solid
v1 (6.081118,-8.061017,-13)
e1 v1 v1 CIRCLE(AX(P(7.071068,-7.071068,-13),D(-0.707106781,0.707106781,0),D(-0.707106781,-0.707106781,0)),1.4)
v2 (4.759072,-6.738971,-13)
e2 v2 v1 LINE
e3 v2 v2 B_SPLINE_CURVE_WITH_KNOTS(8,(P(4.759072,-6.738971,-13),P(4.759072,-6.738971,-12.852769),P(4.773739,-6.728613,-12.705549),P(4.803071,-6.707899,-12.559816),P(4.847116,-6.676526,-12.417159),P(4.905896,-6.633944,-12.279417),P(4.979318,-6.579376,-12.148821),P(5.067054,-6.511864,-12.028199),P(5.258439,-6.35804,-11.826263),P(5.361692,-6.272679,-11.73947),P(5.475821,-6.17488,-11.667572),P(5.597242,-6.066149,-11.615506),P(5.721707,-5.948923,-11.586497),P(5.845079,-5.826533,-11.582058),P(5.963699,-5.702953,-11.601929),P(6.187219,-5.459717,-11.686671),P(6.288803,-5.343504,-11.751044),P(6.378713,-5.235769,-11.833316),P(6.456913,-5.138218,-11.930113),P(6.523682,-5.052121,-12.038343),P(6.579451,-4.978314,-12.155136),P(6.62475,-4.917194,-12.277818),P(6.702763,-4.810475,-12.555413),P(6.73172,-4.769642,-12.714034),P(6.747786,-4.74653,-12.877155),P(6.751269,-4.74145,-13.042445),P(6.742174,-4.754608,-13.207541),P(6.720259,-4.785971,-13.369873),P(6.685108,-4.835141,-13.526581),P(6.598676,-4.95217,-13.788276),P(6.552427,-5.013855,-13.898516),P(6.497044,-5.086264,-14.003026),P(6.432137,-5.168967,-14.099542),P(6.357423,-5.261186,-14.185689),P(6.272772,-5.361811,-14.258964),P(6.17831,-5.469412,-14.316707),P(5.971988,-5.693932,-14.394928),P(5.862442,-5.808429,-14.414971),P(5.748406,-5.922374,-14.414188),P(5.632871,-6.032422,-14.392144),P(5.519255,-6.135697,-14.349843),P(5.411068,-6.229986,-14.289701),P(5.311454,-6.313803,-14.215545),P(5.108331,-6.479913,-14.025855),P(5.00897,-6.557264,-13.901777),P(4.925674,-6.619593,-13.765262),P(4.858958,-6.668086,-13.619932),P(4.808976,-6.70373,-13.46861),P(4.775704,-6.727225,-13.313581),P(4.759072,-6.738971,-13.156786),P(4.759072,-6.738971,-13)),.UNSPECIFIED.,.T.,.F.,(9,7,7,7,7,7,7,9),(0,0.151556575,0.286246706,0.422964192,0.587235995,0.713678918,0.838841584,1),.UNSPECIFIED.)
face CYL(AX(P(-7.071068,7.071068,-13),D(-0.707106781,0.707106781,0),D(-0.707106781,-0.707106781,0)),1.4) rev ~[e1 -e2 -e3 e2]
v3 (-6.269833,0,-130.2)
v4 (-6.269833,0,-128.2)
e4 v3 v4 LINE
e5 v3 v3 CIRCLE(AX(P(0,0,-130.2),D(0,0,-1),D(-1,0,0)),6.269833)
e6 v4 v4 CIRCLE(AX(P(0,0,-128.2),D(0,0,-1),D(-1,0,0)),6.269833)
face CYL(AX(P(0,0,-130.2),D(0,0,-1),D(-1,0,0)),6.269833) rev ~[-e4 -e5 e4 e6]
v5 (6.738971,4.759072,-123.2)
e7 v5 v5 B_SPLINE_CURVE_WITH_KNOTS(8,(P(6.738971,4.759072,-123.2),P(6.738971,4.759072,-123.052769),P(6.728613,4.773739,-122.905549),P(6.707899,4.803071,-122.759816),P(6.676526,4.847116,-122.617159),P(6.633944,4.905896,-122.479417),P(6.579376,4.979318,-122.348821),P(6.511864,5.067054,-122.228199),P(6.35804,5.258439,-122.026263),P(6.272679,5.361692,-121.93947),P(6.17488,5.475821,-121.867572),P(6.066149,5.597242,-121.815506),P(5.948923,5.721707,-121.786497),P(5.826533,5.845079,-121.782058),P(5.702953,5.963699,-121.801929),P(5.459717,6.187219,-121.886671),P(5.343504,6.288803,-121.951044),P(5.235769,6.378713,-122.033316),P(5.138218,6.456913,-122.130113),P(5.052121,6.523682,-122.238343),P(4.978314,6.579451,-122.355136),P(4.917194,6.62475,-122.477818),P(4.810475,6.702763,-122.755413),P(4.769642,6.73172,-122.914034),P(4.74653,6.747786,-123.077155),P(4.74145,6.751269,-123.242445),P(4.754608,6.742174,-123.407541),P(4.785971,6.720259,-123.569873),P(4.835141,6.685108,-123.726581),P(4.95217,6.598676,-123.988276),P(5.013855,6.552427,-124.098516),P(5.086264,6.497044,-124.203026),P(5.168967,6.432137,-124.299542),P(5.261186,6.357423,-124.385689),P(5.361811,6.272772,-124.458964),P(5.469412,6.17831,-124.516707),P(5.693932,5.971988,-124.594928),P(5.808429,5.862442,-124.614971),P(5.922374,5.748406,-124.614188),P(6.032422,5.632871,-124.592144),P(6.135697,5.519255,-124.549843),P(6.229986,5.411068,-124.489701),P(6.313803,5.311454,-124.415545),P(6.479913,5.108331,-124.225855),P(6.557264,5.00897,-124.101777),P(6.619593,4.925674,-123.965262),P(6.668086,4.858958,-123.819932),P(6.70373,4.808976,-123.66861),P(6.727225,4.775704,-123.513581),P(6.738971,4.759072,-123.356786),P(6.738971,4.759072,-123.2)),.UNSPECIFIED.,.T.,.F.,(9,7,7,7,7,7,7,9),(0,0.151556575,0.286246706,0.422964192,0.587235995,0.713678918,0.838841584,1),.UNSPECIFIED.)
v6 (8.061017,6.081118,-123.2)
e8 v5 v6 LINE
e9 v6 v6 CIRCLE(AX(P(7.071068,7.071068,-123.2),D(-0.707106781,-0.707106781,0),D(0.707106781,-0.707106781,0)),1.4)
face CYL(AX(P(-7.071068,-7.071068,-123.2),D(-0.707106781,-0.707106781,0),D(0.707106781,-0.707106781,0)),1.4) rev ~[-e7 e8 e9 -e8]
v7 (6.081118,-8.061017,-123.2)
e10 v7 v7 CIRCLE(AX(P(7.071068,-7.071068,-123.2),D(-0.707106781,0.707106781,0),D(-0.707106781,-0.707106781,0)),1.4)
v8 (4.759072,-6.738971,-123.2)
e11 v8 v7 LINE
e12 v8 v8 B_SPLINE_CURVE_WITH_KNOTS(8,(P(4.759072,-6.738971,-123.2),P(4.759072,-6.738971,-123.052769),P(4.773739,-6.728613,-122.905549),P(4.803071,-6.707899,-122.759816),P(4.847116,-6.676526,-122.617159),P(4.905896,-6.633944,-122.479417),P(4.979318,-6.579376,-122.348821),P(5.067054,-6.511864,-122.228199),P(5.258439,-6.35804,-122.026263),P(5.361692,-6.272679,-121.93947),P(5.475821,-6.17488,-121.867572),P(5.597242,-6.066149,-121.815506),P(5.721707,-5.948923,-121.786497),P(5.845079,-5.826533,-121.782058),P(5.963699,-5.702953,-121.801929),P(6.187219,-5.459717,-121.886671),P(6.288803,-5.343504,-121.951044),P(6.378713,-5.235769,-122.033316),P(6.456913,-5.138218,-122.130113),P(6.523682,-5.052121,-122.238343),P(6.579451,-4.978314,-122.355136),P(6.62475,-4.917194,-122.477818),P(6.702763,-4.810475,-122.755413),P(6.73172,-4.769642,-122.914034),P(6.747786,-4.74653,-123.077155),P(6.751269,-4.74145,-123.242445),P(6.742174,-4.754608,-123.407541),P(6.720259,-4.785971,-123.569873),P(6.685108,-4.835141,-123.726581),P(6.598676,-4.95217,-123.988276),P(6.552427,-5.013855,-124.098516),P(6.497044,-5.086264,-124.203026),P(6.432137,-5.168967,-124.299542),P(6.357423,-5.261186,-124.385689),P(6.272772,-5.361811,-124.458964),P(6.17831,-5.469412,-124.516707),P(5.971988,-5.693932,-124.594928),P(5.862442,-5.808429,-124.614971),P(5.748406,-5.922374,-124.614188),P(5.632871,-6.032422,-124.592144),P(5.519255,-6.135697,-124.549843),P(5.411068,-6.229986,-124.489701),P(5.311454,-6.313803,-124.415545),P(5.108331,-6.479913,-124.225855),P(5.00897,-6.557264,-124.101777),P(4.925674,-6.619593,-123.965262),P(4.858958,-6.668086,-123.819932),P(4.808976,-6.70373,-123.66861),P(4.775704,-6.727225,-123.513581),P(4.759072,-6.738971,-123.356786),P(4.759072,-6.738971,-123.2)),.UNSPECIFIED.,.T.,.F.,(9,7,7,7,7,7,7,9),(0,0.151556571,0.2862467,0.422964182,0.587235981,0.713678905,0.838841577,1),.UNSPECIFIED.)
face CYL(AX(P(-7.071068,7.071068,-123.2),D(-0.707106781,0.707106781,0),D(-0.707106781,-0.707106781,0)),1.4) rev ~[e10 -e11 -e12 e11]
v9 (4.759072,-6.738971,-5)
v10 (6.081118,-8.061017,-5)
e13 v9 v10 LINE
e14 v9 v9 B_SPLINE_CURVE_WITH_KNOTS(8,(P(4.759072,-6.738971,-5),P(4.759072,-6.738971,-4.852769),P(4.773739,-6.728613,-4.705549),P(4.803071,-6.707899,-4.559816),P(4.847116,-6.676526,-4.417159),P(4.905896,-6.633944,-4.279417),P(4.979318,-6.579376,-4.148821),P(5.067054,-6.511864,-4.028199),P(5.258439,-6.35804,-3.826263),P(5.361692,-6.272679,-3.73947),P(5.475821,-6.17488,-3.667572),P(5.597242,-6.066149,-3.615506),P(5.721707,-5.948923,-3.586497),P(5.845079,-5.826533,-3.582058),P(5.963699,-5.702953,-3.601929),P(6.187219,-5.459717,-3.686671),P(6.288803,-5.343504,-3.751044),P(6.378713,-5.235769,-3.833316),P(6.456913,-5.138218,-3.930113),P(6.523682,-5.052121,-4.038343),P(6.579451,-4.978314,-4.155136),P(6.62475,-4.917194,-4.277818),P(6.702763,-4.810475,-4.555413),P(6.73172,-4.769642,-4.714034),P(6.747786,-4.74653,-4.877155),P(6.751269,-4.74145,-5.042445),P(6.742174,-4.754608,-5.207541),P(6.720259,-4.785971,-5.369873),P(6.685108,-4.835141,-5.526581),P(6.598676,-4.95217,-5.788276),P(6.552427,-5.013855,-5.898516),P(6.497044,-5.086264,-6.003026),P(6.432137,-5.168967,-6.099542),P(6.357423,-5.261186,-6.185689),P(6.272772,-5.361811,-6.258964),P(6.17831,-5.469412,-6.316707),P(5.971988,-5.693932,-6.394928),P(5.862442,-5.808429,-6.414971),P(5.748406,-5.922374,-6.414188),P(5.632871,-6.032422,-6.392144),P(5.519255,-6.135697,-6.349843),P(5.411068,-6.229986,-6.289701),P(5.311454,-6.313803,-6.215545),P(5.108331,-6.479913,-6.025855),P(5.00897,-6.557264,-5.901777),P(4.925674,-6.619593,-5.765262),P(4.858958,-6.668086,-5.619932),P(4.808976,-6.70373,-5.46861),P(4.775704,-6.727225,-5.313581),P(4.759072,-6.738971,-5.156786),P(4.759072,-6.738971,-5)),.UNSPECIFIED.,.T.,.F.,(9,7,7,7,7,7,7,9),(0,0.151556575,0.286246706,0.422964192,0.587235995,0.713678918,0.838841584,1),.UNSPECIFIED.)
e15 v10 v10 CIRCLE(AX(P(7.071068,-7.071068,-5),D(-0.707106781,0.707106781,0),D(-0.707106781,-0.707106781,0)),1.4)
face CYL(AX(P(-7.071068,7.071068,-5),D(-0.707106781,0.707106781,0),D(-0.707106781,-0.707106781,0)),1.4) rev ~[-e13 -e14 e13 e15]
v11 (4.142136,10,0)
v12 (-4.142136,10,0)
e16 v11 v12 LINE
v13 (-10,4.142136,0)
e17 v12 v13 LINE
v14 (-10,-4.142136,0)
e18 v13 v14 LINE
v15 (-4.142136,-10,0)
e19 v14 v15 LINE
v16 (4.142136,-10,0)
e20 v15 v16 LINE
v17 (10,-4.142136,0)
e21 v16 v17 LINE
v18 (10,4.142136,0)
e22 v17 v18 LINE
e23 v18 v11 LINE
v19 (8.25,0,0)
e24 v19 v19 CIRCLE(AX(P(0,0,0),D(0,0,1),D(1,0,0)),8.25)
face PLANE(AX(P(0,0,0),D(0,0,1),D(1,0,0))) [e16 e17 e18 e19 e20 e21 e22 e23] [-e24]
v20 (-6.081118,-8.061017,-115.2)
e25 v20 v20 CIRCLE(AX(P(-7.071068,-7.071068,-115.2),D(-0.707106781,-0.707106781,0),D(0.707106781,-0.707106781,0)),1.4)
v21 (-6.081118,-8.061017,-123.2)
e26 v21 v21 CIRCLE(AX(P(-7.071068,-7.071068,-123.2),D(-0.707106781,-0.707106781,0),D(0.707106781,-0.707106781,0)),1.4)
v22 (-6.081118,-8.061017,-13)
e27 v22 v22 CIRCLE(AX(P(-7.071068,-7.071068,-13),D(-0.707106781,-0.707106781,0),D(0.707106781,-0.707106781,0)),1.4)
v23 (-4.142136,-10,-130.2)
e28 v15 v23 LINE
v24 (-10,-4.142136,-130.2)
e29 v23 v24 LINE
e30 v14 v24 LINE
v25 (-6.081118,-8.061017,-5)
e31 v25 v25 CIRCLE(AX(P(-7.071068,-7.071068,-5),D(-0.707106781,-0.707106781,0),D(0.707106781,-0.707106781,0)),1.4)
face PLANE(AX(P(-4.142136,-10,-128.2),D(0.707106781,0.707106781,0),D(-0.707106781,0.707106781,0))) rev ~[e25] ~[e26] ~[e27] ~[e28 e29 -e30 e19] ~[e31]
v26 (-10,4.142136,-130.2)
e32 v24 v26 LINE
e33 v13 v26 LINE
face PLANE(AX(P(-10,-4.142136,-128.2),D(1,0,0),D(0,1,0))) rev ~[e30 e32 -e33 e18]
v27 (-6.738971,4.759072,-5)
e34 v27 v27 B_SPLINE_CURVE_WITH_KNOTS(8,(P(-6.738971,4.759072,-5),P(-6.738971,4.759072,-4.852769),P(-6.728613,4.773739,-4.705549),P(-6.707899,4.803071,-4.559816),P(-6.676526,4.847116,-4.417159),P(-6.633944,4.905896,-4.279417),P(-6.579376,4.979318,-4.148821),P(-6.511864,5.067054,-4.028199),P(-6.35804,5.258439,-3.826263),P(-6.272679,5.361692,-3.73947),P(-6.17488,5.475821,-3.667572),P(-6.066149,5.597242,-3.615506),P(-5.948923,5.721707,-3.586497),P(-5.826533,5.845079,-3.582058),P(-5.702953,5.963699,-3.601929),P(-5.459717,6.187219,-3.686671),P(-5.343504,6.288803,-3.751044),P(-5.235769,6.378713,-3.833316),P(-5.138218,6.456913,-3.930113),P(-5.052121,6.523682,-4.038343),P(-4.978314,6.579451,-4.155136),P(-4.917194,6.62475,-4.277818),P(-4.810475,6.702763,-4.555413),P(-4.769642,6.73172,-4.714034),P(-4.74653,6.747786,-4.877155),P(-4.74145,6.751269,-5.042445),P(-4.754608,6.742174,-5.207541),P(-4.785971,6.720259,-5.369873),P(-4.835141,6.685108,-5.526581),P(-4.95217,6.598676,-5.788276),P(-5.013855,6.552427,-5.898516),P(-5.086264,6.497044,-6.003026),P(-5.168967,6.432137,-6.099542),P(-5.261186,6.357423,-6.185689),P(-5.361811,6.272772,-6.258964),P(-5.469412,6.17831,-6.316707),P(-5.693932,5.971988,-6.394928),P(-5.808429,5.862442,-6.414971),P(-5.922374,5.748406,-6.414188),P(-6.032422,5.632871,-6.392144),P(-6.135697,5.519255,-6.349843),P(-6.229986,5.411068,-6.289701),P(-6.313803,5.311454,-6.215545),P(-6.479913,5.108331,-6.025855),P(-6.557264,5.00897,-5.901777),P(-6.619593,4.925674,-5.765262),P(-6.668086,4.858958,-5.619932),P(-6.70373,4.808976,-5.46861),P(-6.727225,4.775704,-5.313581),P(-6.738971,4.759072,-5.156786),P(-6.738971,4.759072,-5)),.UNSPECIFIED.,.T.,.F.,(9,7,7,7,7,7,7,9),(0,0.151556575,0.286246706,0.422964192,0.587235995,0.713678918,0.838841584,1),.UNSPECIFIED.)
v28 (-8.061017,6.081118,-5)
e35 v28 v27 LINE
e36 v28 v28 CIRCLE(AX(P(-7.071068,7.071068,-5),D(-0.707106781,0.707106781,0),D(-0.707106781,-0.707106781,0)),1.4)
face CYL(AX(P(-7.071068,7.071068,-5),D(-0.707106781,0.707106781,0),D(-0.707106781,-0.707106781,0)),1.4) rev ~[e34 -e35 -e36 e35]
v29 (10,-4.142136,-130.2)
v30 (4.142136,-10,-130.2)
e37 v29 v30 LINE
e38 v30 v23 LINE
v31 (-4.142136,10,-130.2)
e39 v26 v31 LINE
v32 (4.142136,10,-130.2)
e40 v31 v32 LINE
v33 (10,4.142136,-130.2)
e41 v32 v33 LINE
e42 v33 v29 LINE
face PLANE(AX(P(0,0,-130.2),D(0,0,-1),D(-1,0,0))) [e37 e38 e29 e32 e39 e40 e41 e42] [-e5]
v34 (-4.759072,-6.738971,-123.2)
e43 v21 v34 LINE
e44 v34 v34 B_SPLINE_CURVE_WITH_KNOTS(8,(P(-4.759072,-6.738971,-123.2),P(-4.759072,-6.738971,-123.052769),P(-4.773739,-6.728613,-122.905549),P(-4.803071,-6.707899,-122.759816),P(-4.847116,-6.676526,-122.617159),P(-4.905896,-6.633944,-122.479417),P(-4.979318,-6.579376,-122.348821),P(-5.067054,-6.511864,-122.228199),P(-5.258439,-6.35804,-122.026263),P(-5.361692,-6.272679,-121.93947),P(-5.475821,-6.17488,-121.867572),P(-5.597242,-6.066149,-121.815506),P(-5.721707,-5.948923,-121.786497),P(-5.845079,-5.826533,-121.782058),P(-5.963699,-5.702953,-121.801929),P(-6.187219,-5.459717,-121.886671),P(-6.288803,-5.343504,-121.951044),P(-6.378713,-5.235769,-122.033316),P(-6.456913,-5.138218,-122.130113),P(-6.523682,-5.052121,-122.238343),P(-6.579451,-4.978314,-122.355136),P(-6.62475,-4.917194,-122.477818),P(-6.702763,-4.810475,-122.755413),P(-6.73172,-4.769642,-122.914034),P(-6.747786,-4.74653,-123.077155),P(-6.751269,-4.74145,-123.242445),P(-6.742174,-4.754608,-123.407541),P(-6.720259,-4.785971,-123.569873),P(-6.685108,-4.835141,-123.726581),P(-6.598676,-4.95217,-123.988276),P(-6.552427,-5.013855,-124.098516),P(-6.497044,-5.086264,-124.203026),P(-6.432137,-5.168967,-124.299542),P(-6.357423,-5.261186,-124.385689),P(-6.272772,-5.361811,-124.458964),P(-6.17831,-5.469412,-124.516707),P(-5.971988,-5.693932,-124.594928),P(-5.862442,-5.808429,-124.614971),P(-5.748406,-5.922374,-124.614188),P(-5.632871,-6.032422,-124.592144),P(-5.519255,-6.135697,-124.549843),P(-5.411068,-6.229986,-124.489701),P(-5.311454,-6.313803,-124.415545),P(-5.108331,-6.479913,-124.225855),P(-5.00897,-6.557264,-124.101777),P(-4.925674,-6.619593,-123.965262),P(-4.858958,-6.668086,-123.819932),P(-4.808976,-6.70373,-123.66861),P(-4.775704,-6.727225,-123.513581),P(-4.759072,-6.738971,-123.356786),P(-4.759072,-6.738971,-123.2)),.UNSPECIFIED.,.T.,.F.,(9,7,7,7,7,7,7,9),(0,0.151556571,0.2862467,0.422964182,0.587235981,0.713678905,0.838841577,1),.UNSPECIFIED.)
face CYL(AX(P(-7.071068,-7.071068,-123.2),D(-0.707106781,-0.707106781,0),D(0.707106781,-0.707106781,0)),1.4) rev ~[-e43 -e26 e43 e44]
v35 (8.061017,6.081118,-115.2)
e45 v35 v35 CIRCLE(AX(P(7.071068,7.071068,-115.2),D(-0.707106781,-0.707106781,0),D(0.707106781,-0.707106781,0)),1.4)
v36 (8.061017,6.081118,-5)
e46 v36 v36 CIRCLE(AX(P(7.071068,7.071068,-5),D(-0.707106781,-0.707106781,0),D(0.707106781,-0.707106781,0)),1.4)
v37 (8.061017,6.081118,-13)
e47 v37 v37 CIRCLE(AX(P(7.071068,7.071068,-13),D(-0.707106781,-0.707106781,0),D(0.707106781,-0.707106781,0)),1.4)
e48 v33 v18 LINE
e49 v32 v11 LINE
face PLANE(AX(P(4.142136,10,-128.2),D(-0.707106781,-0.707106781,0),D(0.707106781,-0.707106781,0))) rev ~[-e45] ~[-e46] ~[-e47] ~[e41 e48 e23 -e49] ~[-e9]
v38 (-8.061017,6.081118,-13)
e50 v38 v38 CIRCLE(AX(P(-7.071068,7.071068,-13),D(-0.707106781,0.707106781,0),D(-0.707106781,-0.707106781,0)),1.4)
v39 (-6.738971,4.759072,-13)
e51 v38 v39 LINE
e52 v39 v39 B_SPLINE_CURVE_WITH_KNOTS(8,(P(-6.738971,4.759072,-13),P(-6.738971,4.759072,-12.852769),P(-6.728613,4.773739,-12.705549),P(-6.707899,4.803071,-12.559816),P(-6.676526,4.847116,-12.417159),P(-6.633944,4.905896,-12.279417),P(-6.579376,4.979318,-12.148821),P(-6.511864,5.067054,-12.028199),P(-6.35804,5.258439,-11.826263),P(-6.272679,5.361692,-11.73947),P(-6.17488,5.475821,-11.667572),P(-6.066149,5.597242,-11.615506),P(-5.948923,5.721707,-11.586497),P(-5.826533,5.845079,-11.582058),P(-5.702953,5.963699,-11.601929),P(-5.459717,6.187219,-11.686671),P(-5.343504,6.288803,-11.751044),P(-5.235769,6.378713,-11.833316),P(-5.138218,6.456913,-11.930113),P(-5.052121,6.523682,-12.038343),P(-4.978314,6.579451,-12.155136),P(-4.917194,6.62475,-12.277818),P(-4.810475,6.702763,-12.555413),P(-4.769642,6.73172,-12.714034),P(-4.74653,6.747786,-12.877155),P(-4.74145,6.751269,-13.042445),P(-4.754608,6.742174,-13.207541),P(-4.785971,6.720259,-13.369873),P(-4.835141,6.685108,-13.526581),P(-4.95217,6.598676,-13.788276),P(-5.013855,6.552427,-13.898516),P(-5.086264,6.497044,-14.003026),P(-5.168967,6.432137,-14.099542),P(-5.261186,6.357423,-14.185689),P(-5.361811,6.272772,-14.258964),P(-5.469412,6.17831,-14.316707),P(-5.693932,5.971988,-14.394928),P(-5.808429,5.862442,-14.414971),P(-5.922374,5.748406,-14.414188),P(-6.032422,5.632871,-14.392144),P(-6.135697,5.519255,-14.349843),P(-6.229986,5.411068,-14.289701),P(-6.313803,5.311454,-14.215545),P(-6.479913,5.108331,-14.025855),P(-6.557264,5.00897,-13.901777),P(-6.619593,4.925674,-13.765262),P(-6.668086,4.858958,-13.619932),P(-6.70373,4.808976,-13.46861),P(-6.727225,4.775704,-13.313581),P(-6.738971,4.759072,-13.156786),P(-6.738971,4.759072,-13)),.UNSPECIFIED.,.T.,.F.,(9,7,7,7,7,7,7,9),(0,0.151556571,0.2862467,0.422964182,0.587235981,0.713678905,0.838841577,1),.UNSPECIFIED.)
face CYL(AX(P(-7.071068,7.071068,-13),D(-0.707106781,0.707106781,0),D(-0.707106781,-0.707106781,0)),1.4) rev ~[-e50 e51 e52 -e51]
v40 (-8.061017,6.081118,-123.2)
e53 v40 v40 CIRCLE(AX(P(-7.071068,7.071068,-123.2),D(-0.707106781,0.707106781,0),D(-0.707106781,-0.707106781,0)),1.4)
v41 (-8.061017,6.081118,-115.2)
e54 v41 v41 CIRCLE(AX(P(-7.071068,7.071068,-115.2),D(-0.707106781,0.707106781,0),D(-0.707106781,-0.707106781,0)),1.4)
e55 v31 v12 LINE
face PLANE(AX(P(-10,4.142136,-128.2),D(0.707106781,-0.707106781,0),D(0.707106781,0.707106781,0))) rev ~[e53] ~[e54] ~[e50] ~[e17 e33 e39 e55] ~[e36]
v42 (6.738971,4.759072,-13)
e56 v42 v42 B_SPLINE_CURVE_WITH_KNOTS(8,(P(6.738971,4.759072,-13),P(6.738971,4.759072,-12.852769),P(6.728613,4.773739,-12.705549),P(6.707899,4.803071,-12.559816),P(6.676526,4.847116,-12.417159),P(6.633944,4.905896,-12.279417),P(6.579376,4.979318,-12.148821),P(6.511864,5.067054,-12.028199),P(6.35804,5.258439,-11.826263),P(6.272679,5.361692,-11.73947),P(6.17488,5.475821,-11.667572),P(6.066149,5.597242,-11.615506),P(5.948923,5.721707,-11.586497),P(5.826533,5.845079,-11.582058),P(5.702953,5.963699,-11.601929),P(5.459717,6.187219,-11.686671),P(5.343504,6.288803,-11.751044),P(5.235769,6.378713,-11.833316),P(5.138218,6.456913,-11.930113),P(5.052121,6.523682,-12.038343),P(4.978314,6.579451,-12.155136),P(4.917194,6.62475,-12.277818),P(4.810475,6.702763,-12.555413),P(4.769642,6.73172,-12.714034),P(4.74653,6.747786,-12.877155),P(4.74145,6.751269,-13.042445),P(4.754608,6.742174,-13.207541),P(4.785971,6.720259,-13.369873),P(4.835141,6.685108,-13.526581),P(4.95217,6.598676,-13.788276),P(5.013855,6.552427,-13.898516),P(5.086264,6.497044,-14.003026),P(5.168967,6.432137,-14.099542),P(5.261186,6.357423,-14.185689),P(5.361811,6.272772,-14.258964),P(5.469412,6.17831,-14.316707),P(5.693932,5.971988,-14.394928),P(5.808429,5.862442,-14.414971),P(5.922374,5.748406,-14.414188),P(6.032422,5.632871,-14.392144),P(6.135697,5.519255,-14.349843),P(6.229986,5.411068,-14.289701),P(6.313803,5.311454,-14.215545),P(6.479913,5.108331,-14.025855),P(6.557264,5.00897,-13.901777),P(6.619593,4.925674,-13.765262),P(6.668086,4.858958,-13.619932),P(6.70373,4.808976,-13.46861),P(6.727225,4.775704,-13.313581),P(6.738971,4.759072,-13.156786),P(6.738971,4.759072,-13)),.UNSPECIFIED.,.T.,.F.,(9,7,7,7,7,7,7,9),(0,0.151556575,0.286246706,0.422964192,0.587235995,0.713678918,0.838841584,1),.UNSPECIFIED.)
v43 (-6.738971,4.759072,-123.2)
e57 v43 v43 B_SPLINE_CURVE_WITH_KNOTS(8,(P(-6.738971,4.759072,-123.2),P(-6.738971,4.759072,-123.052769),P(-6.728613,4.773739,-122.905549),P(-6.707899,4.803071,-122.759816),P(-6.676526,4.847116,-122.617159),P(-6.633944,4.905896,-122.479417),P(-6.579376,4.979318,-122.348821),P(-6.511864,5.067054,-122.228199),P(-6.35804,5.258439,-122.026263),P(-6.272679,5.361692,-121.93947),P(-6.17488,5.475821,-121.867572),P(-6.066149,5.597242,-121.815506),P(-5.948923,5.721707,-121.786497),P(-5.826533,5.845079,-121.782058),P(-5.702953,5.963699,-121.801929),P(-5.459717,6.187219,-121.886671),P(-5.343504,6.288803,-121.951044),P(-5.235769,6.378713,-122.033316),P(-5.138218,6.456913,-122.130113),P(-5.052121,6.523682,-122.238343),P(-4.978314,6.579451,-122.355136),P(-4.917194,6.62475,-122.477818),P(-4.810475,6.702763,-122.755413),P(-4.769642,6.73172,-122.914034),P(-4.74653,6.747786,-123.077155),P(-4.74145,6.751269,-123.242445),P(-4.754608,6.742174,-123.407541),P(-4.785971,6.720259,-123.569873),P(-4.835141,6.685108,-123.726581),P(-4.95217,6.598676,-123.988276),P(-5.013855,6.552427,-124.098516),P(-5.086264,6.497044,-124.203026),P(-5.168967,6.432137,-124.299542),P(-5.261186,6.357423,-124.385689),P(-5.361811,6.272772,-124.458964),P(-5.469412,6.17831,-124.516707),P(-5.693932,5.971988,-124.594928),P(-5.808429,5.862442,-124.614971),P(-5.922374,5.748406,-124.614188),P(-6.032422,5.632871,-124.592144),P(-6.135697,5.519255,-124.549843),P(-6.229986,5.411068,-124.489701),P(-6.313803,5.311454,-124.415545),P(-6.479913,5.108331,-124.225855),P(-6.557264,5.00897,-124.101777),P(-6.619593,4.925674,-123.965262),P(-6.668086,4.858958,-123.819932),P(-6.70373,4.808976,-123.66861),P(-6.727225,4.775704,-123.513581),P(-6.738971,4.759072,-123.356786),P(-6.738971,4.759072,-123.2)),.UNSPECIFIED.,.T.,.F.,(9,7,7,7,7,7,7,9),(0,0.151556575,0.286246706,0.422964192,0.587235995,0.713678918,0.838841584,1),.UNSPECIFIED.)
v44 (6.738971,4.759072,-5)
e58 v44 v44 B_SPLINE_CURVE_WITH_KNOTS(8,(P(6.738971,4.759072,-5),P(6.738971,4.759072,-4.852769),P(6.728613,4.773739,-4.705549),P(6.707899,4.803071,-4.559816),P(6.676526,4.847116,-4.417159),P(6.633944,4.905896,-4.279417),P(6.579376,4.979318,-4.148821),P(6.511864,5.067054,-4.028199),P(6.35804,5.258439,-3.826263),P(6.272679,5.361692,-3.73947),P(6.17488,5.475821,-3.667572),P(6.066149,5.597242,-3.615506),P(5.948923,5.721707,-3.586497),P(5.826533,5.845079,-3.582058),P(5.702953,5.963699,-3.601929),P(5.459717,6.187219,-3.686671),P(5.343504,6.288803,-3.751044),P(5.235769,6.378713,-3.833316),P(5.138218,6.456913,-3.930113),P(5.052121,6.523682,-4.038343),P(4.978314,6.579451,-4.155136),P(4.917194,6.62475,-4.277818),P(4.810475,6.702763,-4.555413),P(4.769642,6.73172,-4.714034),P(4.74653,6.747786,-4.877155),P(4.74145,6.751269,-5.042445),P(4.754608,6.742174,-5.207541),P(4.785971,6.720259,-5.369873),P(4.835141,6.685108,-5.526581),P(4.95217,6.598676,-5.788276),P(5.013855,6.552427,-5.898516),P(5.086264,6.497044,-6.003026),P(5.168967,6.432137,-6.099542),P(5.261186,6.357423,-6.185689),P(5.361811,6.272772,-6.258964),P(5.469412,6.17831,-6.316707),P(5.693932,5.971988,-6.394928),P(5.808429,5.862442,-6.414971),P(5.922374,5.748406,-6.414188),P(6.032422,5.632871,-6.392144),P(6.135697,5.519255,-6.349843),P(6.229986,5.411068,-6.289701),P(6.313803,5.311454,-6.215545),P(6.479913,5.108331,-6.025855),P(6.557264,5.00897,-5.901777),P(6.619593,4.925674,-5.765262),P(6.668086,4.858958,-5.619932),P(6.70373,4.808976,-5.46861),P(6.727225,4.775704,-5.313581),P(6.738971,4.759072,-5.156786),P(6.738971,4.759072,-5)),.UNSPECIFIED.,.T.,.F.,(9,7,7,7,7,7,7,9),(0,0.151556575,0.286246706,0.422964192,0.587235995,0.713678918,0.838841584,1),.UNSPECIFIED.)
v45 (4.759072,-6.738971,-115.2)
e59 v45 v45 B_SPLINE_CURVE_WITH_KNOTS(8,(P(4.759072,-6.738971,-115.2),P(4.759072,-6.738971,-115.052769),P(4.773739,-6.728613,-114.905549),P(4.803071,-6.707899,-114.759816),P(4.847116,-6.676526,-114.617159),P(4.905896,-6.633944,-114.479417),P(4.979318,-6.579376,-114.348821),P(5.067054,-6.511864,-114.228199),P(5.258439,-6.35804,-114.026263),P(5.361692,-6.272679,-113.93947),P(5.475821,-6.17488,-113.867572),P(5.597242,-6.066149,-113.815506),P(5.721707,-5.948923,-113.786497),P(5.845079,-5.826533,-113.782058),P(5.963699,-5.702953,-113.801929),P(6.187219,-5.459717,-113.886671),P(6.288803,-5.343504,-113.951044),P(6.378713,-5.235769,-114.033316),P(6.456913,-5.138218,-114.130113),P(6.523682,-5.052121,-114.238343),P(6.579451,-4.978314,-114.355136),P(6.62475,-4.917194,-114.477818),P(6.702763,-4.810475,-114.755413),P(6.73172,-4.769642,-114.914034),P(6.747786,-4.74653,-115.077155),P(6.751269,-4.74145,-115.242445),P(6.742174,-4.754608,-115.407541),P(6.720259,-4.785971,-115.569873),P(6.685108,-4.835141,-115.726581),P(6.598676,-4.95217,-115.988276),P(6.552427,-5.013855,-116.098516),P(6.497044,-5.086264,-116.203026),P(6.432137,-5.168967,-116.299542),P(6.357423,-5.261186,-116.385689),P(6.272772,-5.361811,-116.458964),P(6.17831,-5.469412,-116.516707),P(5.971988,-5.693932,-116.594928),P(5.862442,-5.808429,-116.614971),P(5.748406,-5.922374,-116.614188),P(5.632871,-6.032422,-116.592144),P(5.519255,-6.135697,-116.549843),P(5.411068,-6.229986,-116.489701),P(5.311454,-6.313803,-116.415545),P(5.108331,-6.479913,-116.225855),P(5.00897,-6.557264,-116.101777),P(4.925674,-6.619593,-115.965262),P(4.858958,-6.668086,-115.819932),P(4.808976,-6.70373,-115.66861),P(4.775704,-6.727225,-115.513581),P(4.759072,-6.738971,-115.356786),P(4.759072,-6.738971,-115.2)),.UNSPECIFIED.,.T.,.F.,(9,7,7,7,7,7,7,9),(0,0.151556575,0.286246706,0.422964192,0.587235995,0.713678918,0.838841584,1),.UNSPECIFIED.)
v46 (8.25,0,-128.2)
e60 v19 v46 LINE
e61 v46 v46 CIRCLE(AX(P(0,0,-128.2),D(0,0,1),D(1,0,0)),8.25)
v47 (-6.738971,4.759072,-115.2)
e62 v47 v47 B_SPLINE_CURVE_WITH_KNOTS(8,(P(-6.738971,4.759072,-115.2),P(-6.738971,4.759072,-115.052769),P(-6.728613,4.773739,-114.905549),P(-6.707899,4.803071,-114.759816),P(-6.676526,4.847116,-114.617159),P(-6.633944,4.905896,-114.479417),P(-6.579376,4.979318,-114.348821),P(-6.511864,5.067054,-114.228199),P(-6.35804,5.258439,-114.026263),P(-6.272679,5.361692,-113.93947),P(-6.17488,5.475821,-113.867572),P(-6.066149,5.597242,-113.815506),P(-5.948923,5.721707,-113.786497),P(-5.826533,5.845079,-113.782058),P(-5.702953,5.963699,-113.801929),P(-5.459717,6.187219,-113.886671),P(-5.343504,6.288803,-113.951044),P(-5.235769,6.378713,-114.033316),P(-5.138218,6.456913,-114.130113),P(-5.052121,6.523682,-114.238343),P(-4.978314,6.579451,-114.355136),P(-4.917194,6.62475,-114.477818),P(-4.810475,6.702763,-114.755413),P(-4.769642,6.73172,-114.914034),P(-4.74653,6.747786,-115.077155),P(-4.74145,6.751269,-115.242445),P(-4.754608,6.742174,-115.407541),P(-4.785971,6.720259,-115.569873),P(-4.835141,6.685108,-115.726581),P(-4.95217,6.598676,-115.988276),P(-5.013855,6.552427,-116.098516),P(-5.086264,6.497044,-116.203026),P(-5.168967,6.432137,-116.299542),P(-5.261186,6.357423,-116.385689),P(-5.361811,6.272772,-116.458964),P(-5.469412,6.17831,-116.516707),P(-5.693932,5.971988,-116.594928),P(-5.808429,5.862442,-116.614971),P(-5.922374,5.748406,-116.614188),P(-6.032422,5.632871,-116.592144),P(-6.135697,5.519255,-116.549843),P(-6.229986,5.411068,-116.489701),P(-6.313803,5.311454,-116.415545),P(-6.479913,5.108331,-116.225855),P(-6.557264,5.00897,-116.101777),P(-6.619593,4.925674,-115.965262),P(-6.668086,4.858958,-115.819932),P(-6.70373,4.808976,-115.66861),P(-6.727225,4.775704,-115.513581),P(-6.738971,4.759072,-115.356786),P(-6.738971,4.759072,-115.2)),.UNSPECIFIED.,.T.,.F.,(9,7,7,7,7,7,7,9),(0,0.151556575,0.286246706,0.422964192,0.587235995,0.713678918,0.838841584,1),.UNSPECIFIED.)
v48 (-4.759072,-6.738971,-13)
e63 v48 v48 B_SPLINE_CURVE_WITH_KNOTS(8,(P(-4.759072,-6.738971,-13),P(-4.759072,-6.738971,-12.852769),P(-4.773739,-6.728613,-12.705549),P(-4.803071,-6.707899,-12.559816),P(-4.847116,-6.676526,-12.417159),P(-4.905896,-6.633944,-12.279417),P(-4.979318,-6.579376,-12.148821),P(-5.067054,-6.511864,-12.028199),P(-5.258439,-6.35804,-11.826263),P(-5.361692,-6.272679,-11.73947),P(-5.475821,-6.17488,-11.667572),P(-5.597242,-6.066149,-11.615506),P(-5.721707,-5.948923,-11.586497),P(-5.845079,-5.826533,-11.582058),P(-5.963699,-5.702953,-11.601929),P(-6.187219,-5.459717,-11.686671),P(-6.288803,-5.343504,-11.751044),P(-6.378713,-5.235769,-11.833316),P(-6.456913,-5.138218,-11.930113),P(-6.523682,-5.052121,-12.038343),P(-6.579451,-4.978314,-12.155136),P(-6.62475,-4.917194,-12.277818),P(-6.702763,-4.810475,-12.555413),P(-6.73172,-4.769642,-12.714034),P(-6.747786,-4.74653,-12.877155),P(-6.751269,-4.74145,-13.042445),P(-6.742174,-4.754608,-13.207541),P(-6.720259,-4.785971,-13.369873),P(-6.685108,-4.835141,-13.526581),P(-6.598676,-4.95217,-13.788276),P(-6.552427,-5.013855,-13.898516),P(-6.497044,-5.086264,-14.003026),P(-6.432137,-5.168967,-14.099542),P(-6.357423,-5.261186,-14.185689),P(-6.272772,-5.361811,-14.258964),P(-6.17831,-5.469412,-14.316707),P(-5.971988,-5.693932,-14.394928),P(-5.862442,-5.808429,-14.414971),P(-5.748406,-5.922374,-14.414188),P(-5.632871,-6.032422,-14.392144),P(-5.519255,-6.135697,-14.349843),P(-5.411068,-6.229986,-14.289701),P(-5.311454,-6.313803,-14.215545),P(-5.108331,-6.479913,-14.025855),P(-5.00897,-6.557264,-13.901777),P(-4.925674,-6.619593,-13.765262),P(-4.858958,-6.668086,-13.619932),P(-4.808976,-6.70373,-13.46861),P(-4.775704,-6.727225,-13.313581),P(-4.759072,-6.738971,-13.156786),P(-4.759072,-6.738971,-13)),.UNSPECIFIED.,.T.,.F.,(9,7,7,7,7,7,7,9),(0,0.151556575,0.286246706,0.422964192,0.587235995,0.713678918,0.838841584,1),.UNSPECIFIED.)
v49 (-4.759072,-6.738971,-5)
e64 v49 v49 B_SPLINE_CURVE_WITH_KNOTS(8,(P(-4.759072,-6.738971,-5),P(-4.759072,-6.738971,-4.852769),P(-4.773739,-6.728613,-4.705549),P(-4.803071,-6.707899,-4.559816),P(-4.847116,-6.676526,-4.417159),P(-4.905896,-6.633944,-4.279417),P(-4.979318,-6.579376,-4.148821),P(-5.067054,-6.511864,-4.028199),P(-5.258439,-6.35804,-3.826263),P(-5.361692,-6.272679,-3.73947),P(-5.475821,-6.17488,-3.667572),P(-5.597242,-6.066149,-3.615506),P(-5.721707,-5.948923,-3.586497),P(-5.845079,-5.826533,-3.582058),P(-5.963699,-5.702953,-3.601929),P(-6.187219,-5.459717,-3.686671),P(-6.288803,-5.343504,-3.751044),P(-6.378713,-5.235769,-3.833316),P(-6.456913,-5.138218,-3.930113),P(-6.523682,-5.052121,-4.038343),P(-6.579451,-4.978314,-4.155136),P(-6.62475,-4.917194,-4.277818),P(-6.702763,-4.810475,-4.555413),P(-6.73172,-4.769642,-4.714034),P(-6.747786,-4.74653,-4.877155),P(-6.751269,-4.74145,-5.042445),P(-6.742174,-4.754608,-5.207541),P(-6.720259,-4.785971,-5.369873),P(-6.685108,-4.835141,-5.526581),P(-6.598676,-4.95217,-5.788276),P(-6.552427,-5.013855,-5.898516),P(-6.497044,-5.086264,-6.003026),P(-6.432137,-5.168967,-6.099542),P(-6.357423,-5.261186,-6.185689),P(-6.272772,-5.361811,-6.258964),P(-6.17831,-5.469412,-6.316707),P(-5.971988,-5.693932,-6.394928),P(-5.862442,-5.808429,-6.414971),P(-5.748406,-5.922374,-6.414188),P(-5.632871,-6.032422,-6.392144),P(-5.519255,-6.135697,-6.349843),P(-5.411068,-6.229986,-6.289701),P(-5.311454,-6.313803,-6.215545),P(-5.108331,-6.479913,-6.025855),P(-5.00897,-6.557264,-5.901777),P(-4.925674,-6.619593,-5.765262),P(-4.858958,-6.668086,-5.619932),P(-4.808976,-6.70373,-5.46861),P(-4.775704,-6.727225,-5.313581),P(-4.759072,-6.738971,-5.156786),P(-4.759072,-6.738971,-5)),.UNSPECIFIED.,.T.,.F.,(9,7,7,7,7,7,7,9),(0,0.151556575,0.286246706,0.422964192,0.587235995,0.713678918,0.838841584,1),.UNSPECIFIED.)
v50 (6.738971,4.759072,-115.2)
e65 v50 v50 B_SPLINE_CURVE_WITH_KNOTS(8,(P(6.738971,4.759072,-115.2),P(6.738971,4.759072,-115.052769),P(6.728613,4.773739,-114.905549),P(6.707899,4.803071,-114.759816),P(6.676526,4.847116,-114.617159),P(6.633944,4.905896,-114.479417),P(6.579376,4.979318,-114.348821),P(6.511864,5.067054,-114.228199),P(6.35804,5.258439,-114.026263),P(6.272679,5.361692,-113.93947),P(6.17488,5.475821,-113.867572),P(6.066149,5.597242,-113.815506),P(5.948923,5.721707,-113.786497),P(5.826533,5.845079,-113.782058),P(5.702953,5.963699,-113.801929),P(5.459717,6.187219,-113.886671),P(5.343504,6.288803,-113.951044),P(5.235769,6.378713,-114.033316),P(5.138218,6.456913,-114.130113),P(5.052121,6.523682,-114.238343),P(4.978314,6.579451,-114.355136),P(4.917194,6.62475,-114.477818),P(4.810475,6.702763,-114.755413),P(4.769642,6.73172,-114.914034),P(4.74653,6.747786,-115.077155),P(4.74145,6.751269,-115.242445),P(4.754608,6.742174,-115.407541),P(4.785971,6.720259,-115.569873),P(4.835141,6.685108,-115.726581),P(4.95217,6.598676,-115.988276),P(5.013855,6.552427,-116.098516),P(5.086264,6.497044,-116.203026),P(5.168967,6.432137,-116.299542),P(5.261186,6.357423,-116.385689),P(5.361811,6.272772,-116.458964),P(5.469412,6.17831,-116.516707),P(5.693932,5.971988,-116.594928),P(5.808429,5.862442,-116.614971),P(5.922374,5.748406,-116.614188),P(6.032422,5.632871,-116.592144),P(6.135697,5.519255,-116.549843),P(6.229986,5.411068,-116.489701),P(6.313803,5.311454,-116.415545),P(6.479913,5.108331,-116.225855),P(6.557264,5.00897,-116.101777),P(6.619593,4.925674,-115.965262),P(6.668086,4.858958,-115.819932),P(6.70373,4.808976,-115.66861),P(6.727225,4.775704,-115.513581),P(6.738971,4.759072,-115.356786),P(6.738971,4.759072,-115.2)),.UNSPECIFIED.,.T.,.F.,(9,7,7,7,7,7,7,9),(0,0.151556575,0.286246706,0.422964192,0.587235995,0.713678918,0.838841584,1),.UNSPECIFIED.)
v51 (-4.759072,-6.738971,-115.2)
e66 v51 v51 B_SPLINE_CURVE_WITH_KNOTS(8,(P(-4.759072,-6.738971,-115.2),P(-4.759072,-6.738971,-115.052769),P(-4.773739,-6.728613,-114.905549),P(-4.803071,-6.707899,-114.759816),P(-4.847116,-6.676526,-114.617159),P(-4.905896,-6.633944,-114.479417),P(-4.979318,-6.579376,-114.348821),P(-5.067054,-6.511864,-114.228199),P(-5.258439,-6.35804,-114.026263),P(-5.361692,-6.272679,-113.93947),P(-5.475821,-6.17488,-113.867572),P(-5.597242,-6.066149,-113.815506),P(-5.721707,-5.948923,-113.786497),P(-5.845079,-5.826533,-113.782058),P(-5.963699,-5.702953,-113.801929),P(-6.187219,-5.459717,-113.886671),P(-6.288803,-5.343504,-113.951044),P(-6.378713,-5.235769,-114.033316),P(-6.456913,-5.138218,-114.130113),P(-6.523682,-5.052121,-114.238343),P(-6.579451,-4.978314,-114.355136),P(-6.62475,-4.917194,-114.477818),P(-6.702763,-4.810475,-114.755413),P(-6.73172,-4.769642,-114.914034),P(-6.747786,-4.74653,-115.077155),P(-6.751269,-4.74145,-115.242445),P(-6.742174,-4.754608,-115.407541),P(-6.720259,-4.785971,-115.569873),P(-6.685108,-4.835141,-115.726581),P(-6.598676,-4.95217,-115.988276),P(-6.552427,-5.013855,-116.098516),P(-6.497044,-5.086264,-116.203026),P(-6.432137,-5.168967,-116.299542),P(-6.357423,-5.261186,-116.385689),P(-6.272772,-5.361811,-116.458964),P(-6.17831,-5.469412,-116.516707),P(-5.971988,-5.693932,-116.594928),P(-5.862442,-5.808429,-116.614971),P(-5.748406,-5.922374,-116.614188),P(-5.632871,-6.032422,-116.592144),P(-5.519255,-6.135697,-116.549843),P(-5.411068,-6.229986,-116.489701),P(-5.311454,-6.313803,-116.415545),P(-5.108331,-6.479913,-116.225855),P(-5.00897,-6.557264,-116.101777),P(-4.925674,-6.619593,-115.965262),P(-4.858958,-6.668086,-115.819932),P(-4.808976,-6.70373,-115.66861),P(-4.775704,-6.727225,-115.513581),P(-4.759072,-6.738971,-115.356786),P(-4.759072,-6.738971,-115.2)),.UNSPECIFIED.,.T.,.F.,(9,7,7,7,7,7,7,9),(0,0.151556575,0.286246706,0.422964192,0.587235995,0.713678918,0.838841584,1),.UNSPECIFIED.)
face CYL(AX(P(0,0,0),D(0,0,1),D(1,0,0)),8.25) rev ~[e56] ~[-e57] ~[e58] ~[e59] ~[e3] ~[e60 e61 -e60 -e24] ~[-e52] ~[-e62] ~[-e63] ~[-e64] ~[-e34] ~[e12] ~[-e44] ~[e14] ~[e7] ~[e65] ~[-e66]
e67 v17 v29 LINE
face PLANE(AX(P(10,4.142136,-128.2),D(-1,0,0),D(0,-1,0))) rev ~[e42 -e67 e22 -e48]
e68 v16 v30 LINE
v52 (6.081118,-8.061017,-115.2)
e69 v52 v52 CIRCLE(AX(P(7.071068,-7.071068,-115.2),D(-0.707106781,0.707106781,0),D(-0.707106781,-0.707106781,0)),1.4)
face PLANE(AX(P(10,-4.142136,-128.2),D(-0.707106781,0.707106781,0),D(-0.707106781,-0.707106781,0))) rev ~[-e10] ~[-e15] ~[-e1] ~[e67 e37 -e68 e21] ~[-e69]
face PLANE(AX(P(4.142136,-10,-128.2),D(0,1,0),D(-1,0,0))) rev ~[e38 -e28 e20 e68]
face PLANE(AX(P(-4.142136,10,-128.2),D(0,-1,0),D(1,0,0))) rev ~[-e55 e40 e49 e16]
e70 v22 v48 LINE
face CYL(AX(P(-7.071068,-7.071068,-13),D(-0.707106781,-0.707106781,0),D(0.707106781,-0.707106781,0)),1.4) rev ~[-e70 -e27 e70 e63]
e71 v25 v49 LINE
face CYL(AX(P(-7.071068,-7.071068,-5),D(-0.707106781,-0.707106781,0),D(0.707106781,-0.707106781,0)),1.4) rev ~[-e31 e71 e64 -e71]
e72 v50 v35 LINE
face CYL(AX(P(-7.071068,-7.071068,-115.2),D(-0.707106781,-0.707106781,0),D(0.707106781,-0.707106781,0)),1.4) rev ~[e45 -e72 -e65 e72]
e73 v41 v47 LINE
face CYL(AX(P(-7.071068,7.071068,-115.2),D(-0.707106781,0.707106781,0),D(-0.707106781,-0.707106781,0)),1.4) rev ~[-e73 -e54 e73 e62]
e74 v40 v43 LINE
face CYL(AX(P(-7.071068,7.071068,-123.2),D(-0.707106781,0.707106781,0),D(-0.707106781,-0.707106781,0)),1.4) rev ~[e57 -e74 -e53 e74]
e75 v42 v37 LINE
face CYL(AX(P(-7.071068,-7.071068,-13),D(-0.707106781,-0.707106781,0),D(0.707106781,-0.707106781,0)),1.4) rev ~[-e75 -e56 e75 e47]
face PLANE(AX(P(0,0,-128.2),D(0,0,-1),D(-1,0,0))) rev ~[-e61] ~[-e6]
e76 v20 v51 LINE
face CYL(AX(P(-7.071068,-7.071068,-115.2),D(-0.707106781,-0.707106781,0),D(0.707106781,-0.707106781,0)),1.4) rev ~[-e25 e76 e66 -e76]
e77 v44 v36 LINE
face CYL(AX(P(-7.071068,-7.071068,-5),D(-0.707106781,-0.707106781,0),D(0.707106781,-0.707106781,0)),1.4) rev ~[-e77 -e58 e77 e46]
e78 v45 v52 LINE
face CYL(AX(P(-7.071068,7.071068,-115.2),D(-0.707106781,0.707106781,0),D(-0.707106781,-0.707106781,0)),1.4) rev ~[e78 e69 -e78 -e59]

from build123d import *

# Parameters (mm, degrees)
SKETCH1_R           = 8.25
BOSS_EXTRUDE1_DEPTH = 128.2
BOSS_EXTRUDE2_DEPTH = 2
SKETCH6_R           = 1.4
CUT_EXTRUDE2_DEPTH  = 133.419344178
CIRPATTERN1_COUNT   = 2
CIRPATTERN1_ANGLE   = 270
SKETCH7_R           = 6.269832862
CUT_EXTRUDE3_DEPTH  = 131.965797161


with BuildPart() as part:
    # Sketch1 → Boss-Extrude1 (new body)
    with BuildSketch(Plane.XY):
        Polygon((10, 4.142135624), (4.142135624, 10), (-4.142135624, 10), (-10, 4.142135624), (-10, -4.142135624), (-4.142135624, -10), (4.142135624, -10), (10, -4.142135624), align=None)
        Circle(SKETCH1_R, mode=Mode.SUBTRACT)
    extrude(amount=-BOSS_EXTRUDE1_DEPTH)

    # Sketch2 → Boss-Extrude2 (add)
    with BuildSketch(Plane(origin=(0, 0, -128.2), x_dir=(-1, 0, 0), z_dir=(0, 0, -1))):
        Polygon((-10, 4.142135624), (-10, -4.142135624), (-4.142135624, -10), (4.142135624, -10), (10, -4.142135624), (10, 4.142135624), (4.142135624, 10), (-4.142135624, 10), align=None)
    extrude(amount=BOSS_EXTRUDE2_DEPTH)

    # Sketch6 → Cut-Extrude2 (cut, through all)
    with BuildSketch(Plane(origin=(-7.071067812, 7.071067812, 0), x_dir=(0, 0, 1), z_dir=(-0.7071067811865476, 0.7071067811865476, 0))):
        with Locations(Location((-13, 0, 0), (0, 0, 270))):
            Circle(SKETCH6_R)
        with Locations(Location((-5, 0, 0), (0, 0, 270))):
            Circle(SKETCH6_R)
        with Locations(Location((-115.2, 0, 0), (0, 0, 270))):
            Circle(SKETCH6_R)
        with Locations(Location((-123.2, 0, 0), (0, 0, 270))):
            Circle(SKETCH6_R)
    cut_extrude2 = extrude(amount=-CUT_EXTRUDE2_DEPTH, mode=Mode.SUBTRACT)

    # CirPattern1: Cut-Extrude2 ×2 about axis
    cirpattern1_axis = Axis((0, 0, 6.85), (0, 0, -1))
    for i in range(1, CIRPATTERN1_COUNT):
        add(cut_extrude2.rotate(cirpattern1_axis, i * CIRPATTERN1_ANGLE / (CIRPATTERN1_COUNT - 1)), mode=Mode.SUBTRACT)

    # Sketch7 → Cut-Extrude3 (cut, through all)
    with BuildSketch(Plane(origin=(0, 0, -130.2), x_dir=(-1, 0, 0), z_dir=(0, 0, -1))):
        Circle(SKETCH7_R)
    extrude(amount=-CUT_EXTRUDE3_DEPTH, mode=Mode.SUBTRACT)


solid = part.part
